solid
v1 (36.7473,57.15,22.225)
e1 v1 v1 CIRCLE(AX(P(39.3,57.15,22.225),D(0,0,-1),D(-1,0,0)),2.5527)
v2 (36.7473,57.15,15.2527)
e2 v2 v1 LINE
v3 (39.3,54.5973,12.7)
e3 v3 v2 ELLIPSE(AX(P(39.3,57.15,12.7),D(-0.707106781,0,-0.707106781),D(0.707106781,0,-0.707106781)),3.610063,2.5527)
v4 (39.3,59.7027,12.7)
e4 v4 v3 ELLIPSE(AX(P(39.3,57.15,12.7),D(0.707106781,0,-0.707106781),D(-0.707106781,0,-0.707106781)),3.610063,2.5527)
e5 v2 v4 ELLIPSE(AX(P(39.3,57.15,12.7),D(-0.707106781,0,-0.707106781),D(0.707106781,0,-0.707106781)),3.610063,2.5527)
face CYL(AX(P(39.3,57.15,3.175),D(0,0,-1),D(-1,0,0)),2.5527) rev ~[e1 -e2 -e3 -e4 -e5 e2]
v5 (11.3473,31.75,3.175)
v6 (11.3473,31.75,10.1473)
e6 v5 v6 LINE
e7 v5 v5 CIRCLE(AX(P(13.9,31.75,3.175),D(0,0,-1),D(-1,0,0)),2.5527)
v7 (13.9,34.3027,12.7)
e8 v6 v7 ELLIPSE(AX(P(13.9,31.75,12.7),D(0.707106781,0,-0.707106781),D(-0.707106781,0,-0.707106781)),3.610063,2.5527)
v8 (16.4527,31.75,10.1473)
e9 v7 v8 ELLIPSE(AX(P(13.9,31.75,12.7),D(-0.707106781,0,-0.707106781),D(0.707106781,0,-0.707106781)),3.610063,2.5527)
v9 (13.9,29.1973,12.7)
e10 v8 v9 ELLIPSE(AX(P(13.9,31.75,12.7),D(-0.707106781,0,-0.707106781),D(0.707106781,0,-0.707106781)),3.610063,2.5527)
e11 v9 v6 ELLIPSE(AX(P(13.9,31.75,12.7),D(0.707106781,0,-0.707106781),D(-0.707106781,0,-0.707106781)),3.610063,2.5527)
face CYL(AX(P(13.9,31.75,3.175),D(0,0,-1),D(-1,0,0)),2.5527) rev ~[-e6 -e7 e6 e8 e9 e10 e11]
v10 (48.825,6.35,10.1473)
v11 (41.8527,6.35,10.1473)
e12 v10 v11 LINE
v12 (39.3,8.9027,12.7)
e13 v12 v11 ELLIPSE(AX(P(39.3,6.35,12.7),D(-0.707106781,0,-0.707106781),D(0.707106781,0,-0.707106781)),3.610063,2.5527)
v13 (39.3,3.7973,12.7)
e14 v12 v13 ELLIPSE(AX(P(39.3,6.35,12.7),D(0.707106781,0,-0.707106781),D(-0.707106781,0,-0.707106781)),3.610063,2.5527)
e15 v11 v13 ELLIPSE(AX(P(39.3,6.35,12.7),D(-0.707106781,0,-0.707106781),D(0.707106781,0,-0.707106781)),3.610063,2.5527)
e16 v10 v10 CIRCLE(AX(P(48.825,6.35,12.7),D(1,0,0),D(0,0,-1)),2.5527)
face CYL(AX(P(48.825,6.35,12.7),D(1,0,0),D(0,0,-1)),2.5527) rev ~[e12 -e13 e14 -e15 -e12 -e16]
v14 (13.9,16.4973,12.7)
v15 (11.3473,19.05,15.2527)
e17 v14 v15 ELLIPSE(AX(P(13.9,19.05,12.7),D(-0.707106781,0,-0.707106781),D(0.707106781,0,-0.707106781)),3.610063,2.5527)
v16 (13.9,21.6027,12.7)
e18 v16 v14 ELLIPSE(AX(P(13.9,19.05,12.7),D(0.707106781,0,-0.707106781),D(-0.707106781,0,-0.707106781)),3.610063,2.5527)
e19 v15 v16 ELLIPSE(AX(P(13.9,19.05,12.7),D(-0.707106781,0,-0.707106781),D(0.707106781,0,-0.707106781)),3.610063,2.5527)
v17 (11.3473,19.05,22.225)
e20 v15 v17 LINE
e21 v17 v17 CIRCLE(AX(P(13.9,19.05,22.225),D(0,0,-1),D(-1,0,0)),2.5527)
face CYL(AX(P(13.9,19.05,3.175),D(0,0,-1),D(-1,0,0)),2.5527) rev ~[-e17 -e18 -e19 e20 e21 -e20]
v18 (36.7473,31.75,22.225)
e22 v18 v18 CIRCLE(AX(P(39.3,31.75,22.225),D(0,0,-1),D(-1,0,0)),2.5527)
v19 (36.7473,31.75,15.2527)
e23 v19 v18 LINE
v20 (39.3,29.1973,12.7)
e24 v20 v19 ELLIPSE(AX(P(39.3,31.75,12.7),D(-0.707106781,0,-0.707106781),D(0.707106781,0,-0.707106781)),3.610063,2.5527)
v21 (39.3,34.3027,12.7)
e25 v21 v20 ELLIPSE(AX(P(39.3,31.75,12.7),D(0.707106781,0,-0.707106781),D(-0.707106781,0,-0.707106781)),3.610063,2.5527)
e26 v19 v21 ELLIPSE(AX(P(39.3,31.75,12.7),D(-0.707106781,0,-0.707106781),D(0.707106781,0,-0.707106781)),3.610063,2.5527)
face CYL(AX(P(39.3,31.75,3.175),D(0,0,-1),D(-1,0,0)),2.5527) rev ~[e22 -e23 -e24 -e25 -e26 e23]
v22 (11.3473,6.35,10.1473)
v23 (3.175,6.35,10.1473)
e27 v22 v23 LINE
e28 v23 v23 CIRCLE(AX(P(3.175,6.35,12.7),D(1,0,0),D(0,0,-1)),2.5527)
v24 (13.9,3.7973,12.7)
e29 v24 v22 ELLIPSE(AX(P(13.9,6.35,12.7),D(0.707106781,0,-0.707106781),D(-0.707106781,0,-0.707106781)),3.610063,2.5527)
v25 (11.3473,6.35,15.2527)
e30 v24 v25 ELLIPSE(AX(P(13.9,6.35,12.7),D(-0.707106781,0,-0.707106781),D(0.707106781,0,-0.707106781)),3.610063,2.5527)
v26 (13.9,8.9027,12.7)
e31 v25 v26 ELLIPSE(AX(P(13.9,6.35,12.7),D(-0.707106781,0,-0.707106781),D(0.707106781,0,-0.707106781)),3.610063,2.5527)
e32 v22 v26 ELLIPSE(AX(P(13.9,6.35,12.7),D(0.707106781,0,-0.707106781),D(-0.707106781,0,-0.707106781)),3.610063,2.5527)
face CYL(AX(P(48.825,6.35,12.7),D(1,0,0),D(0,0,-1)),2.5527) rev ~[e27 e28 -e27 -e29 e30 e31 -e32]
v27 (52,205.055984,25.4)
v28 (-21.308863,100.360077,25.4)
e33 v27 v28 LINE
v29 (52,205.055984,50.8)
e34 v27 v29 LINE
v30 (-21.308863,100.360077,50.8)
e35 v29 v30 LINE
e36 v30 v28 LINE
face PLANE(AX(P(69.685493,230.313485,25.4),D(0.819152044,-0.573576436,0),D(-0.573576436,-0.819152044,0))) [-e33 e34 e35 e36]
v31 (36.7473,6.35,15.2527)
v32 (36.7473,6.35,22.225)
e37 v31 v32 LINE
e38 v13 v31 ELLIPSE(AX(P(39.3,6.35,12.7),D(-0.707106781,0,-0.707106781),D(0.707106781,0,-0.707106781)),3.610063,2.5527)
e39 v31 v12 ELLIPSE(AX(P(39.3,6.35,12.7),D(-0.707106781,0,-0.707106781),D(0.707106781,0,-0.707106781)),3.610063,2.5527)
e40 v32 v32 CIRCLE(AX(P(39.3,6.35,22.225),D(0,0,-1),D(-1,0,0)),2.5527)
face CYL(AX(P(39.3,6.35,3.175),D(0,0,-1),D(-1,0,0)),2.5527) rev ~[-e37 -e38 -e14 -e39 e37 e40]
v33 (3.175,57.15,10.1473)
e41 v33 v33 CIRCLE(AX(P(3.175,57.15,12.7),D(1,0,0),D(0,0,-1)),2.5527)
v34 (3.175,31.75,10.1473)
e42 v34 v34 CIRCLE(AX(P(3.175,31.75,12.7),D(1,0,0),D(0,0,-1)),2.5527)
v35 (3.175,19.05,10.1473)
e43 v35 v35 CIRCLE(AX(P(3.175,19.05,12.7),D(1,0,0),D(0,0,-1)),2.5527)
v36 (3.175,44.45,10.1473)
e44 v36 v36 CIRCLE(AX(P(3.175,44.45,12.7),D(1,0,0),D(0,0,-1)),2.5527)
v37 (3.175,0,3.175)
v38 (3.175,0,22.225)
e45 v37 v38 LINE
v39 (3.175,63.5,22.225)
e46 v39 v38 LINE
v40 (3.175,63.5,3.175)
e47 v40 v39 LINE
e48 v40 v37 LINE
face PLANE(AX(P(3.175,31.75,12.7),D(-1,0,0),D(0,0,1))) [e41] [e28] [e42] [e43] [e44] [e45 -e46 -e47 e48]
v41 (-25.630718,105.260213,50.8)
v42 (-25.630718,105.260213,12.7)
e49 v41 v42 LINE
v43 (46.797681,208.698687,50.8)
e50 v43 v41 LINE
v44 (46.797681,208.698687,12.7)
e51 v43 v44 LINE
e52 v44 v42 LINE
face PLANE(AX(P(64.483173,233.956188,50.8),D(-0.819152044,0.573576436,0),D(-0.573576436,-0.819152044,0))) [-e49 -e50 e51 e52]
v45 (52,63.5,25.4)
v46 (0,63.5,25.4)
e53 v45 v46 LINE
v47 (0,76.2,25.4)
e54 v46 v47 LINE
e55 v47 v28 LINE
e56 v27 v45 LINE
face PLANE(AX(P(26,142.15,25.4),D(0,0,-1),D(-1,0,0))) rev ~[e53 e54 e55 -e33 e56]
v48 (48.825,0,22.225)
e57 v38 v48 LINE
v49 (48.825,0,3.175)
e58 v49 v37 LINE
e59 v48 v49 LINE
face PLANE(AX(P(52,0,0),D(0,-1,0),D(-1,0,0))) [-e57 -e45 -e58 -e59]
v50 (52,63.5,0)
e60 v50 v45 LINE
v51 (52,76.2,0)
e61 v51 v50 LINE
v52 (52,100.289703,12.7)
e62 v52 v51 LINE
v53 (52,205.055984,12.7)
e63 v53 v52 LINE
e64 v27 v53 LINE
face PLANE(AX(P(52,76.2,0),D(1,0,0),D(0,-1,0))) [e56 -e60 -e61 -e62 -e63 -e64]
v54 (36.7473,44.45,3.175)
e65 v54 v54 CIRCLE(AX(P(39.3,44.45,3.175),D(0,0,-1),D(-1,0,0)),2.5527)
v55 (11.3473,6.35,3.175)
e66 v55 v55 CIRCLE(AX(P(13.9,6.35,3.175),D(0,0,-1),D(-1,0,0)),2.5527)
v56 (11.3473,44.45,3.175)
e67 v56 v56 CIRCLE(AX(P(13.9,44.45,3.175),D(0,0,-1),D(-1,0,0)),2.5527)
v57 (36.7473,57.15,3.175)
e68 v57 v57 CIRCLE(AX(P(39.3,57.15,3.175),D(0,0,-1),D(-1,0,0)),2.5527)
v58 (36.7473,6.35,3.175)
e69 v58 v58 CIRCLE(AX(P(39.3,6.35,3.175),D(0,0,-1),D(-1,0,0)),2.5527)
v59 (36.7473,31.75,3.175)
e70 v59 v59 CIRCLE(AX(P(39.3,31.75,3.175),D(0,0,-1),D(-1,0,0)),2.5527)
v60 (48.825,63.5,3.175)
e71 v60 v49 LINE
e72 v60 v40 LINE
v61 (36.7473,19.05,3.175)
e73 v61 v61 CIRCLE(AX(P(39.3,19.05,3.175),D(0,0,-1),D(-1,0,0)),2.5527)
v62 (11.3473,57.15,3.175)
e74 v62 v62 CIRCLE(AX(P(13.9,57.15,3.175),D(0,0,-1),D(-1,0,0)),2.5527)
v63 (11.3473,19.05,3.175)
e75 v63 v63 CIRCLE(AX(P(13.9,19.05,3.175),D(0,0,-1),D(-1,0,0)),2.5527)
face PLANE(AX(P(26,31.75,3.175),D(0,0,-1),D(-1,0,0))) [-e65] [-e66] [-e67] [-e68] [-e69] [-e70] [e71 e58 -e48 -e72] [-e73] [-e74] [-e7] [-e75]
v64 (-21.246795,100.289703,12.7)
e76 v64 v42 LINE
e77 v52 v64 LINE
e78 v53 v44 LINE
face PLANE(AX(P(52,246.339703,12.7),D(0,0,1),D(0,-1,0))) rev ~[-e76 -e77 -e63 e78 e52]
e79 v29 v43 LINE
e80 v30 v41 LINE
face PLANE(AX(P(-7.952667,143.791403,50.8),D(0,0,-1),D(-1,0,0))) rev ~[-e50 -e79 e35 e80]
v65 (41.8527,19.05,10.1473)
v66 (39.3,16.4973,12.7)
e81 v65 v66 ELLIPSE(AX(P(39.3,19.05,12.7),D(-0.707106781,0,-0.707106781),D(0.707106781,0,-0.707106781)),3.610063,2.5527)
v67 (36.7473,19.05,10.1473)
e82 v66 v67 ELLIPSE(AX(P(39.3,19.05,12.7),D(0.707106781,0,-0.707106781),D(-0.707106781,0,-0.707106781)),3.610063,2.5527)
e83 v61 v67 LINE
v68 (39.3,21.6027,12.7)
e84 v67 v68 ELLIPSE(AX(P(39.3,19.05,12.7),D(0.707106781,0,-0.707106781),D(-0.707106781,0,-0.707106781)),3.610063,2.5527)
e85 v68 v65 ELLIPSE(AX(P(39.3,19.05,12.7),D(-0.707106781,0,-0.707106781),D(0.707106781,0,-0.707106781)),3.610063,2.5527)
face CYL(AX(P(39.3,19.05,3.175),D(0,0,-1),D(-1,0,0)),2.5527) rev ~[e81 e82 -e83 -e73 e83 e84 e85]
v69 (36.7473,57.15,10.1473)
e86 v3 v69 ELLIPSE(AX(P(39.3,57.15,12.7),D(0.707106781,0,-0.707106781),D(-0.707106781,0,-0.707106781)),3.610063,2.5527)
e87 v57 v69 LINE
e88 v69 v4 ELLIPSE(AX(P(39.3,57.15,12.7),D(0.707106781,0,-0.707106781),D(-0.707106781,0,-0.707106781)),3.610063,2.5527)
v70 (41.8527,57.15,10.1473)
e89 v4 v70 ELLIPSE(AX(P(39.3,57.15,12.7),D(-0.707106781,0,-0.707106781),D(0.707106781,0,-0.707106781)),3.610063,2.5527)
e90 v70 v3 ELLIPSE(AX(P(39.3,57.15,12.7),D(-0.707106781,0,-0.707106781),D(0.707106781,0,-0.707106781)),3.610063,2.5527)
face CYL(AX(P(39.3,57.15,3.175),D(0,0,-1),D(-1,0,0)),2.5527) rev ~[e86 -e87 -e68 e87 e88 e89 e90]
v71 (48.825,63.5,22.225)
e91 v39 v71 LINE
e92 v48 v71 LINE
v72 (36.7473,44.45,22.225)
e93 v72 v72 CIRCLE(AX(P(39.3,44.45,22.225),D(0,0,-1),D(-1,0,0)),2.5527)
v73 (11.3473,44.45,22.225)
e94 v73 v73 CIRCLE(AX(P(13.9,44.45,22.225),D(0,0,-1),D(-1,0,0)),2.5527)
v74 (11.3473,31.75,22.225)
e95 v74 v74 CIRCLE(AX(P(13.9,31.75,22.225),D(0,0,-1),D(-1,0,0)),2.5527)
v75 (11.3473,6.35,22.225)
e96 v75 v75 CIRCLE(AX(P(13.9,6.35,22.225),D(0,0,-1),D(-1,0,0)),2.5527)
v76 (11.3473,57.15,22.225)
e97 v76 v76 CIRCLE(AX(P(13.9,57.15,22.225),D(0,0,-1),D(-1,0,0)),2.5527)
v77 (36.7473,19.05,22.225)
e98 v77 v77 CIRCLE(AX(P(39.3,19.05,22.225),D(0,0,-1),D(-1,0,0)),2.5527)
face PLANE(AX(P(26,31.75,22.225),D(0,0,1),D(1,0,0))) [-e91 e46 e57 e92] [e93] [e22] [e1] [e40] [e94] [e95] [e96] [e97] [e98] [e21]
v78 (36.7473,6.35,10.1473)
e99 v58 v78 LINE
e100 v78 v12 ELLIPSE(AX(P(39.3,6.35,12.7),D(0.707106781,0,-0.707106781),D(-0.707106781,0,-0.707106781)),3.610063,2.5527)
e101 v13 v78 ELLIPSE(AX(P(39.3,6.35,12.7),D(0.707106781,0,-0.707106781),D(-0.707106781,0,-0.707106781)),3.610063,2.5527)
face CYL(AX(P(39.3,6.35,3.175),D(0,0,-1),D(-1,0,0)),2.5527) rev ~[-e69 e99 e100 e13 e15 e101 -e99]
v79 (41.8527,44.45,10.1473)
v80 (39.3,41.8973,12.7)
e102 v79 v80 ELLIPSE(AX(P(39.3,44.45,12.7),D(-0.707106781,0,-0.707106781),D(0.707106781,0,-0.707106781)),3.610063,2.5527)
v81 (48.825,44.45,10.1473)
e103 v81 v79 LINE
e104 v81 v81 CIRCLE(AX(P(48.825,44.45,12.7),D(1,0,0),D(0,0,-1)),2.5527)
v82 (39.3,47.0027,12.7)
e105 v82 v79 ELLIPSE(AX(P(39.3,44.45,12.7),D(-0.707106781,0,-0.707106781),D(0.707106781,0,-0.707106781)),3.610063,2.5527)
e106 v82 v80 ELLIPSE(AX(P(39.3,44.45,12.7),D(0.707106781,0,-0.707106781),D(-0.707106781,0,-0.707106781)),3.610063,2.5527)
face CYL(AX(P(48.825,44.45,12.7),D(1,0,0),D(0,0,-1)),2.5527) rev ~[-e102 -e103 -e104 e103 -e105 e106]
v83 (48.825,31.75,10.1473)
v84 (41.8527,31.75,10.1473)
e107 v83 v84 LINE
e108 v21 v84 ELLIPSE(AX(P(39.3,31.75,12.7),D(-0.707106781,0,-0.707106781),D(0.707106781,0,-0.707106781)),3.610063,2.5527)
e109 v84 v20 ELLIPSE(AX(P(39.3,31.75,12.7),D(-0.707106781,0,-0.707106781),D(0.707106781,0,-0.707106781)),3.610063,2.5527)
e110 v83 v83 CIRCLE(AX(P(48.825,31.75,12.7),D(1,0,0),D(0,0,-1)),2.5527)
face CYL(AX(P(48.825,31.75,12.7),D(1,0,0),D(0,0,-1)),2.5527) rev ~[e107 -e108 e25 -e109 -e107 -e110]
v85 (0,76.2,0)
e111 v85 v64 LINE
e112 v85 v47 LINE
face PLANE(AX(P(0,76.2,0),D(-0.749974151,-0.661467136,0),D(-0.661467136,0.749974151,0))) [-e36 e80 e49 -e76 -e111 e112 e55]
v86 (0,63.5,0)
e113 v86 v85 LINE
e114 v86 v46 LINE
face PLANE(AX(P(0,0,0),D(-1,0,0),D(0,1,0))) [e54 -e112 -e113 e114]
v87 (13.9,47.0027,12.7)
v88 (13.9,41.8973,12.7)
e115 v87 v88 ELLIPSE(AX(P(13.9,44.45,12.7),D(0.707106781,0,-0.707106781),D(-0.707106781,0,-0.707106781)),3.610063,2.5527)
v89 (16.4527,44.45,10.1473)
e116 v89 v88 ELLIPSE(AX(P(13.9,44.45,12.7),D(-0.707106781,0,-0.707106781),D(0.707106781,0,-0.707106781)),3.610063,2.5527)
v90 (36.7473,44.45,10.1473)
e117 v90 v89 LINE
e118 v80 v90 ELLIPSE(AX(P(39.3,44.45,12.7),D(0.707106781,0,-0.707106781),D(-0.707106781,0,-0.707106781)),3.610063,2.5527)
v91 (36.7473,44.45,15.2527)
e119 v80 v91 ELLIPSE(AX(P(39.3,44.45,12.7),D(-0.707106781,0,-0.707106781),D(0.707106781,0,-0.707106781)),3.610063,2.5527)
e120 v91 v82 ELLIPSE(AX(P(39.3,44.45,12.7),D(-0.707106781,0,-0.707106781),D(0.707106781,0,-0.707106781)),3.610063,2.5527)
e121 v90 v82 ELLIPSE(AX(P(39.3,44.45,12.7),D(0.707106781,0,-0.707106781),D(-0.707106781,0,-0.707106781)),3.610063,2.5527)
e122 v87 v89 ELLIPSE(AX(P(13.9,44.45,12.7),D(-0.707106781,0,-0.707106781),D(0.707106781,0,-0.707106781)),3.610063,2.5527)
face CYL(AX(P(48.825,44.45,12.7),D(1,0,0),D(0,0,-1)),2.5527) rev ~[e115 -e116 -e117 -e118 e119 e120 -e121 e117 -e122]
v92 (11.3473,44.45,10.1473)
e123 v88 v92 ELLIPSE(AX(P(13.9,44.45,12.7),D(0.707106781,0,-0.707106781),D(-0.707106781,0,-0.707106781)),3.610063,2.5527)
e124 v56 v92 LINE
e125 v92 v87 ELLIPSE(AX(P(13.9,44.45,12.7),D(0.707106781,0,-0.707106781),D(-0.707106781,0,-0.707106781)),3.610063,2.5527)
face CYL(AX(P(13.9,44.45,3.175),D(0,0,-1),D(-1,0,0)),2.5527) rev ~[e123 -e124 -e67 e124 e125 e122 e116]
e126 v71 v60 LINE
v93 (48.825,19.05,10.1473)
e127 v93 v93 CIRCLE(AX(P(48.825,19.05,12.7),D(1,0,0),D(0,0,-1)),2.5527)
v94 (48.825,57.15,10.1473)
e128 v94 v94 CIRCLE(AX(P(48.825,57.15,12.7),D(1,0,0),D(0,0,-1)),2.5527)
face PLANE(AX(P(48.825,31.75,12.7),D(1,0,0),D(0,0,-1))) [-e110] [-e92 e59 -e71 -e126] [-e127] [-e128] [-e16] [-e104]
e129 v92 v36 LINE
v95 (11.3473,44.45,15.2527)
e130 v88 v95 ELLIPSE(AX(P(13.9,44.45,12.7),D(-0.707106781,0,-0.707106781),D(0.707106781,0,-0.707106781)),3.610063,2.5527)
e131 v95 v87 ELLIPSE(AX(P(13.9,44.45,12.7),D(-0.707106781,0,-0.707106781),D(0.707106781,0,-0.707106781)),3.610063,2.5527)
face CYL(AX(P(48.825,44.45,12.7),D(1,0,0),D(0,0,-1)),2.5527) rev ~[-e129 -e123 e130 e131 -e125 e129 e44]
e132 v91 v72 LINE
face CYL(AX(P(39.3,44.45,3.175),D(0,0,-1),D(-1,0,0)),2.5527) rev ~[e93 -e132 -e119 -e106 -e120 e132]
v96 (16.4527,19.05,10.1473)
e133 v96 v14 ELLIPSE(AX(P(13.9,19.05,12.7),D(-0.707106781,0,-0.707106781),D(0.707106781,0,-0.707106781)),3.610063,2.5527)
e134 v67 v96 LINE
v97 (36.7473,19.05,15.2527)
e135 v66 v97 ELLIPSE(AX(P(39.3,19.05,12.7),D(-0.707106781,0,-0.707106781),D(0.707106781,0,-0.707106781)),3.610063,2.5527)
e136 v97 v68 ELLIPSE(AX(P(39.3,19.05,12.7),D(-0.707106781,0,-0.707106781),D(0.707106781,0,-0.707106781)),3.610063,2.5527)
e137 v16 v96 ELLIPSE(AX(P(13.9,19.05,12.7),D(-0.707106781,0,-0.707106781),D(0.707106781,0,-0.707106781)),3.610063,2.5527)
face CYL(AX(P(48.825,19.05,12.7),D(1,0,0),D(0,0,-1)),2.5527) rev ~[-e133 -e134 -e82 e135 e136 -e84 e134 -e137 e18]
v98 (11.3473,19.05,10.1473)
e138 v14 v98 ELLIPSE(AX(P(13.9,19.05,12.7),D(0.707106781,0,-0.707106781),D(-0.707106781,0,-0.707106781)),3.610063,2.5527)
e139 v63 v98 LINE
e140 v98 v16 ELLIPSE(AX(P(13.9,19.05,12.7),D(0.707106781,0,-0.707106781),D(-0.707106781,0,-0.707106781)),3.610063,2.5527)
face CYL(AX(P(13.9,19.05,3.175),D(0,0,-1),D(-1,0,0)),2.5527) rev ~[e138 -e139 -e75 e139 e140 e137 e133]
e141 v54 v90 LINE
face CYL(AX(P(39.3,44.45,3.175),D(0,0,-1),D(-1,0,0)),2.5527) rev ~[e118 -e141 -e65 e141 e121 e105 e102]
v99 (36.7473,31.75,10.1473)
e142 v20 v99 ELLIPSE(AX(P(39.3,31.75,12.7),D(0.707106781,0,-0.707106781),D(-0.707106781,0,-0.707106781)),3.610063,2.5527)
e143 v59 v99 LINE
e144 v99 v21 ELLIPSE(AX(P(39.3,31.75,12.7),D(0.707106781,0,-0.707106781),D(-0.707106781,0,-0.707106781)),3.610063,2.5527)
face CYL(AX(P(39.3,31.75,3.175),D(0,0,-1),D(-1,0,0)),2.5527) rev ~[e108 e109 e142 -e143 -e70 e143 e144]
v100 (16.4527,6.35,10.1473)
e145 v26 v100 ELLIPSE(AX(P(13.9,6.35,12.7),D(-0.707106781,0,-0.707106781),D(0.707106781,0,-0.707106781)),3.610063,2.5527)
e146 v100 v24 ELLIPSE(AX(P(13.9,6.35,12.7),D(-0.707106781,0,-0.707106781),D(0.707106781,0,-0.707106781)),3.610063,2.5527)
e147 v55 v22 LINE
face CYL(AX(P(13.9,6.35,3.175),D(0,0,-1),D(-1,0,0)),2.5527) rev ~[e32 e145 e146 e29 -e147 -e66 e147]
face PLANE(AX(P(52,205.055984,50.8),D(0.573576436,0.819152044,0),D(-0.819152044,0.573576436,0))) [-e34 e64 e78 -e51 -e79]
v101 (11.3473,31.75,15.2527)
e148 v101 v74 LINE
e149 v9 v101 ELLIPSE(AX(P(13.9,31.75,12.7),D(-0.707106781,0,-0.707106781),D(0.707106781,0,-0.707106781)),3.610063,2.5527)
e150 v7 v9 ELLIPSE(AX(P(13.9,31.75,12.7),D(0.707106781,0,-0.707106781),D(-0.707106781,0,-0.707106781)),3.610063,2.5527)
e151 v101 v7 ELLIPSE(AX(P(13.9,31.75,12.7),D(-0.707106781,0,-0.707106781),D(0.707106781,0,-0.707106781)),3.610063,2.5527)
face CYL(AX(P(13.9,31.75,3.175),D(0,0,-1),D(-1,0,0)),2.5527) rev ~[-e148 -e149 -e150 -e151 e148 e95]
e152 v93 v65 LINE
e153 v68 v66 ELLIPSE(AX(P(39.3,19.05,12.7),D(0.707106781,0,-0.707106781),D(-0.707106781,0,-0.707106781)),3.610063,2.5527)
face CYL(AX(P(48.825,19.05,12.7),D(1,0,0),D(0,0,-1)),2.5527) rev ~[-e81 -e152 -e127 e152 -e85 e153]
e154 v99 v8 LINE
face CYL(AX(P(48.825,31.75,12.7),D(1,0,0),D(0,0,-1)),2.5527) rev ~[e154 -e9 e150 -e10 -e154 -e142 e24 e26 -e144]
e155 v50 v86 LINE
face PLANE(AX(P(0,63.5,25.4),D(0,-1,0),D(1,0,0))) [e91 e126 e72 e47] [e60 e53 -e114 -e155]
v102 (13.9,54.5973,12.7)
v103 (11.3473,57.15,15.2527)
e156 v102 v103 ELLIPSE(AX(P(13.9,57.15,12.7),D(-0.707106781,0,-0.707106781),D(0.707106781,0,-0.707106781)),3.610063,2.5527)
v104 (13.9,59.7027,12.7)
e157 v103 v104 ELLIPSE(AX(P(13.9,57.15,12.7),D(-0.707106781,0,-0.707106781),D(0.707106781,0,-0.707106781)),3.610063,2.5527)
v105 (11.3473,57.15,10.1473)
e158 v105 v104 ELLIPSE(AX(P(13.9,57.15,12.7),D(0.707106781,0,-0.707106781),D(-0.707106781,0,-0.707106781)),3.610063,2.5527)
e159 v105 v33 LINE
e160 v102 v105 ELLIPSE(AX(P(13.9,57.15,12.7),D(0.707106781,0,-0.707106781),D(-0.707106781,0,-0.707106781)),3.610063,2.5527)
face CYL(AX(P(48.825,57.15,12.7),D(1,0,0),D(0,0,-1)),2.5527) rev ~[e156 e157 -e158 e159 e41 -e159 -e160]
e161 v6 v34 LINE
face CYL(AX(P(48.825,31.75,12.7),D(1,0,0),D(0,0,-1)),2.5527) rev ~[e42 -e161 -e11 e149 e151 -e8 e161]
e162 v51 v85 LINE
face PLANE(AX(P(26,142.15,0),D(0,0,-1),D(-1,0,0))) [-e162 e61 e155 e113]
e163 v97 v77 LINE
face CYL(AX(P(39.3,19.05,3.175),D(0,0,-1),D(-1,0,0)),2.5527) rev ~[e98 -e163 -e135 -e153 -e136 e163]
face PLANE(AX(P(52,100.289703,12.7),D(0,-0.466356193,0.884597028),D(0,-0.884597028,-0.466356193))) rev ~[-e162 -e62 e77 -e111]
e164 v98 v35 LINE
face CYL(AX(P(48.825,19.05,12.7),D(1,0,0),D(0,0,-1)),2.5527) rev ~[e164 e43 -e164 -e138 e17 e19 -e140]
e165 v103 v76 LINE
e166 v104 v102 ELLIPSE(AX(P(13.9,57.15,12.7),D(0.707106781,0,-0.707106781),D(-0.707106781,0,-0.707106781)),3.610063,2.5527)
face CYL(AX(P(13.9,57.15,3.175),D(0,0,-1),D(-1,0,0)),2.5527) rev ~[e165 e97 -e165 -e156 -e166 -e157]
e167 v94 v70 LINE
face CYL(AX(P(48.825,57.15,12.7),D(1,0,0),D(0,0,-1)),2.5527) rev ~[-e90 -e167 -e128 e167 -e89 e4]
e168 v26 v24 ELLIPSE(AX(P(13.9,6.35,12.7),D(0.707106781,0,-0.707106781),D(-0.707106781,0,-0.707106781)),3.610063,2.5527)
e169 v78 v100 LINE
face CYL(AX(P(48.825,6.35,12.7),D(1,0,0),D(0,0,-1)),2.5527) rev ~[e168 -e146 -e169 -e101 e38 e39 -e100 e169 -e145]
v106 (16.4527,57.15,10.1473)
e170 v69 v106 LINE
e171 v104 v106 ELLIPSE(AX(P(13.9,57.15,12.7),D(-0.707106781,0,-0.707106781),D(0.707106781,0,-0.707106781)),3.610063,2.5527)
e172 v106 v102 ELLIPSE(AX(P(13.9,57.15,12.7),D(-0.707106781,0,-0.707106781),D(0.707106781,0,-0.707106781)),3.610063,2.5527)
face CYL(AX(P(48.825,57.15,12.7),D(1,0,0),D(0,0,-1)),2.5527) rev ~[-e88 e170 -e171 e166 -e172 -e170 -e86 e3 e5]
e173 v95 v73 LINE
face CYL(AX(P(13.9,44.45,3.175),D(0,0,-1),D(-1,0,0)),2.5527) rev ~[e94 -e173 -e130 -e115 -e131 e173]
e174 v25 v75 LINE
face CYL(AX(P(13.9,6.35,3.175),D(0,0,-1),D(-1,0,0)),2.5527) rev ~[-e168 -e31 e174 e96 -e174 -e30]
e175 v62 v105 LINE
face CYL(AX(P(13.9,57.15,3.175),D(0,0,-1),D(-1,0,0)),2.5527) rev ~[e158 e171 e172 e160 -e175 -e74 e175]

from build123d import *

# Parameters (mm, degrees)
BOSS_EXTRUDE1_DEPTH     = 25.4
SKETCH2_W               = 52
SKETCH2_H               = 63.5
CUT_EXTRUDE1_DEPTH      = 3.175
SKETCH3_W               = 25.4
SKETCH3_H               = 63.5
CUT_EXTRUDE2_DEPTH      = 3.175
SKETCH4_W               = 52
SKETCH4_H               = 63.5
CUT_EXTRUDE3_DEPTH      = 3.175
SKETCH5_W               = 25.4
SKETCH5_H               = 63.5
CUT_EXTRUDE4_DEPTH      = 3.175
SKETCH6_R               = 2.5527
CUT_EXTRUDE5_DEPTH      = 23.225
SKETCH7_R               = 2.5527
CUT_EXTRUDE6_DEPTH      = 150.825
SKETCH8_W               = 101
SKETCH8_H               = 177.8
CUT_EXTRUDE7_DEPTH      = 26.4
CUT_EXTRUDE8_DEPTH      = 1
CUT_EXTRUDE8_DEPTH_BACK = 26.4
CUT_EXTRUDE9_DEPTH      = 26.4
CUT_EXTRUDE10_DEPTH     = 26.4
BOSS_EXTRUDE2_DEPTH     = 25.4
CUT_EXTRUDE11_DEPTH     = 51.8
CUT_EXTRUDE12_DEPTH     = 51.8
CUT_EXTRUDE13_DEPTH     = 93.323036631
CUT_EXTRUDE14_DEPTH     = 51.8
CUT_EXTRUDE15_DEPTH     = 26.4
CUT_EXTRUDE16_DEPTH     = 51.8


with BuildPart() as part:
    # Sketch1 → Boss-Extrude1 (new body)
    with BuildSketch(Plane.XY):
        Polygon((0, 0), (0, 76.2), (-101, 76.2), (-101, 254), (153, 254), (153, 76.2), (52, 76.2), (52, 0), align=None)
    extrude(amount=BOSS_EXTRUDE1_DEPTH)

    # Sketch2 → Cut-Extrude1 (cut)
    with BuildSketch(Plane.XY.offset(25.4)):
        with Locations((26, 31.75)):
            Rectangle(SKETCH2_W, SKETCH2_H)
    extrude(amount=-CUT_EXTRUDE1_DEPTH, mode=Mode.SUBTRACT)

    # Sketch3 → Cut-Extrude2 (cut)
    with BuildSketch(Plane.ZY):
        with Locations((12.7, 31.75)):
            Rectangle(SKETCH3_W, SKETCH3_H)
    extrude(amount=-CUT_EXTRUDE2_DEPTH, mode=Mode.SUBTRACT)

    # Sketch4 → Cut-Extrude3 (cut)
    with BuildSketch(Plane(origin=(0, 0, 0), x_dir=(-1, 0, 0), z_dir=(0, 0, -1))):
        with Locations((-26, 31.75)):
            Rectangle(SKETCH4_W, SKETCH4_H)
    extrude(amount=-CUT_EXTRUDE3_DEPTH, mode=Mode.SUBTRACT)

    # Sketch5 → Cut-Extrude4 (cut)
    with BuildSketch(Plane(origin=(52, 0, 0), x_dir=(0, 0, -1), z_dir=(1, 0, 0))):
        with Locations((-12.7, 31.75)):
            Rectangle(SKETCH5_W, SKETCH5_H)
    extrude(amount=-CUT_EXTRUDE4_DEPTH, mode=Mode.SUBTRACT)

    # Sketch6 → Cut-Extrude5 (cut, through all)
    with BuildSketch(Plane(origin=(0, 0, 3.175), x_dir=(-1, 0, 0), z_dir=(0, 0, -1))):
        with Locations((-39.3, 57.15)):
            Circle(SKETCH6_R)
        with Locations((-13.9, 57.15)):
            Circle(SKETCH6_R)
        with Locations((-39.3, 44.45)):
            Circle(SKETCH6_R)
        with Locations((-13.9, 44.45)):
            Circle(SKETCH6_R)
        with Locations((-39.3, 31.75)):
            Circle(SKETCH6_R)
        with Locations((-13.9, 31.75)):
            Circle(SKETCH6_R)
        with Locations((-39.3, 19.05)):
            Circle(SKETCH6_R)
        with Locations((-13.9, 19.05)):
            Circle(SKETCH6_R)
        with Locations((-39.3, 6.35)):
            Circle(SKETCH6_R)
        with Locations((-13.9, 6.35)):
            Circle(SKETCH6_R)
    extrude(amount=-CUT_EXTRUDE5_DEPTH, mode=Mode.SUBTRACT)

    # Sketch7 → Cut-Extrude6 (cut, through all)
    with BuildSketch(Plane(origin=(48.825, 0, 0), x_dir=(0, 0, -1), z_dir=(1, 0, 0))):
        with Locations((-12.7, 57.15)):
            Circle(SKETCH7_R)
        with Locations((-12.7, 44.45)):
            Circle(SKETCH7_R)
        with Locations((-12.7, 31.75)):
            Circle(SKETCH7_R)
        with Locations((-12.7, 19.05)):
            Circle(SKETCH7_R)
        with Locations((-12.7, 6.35)):
            Circle(SKETCH7_R)
    extrude(amount=-CUT_EXTRUDE6_DEPTH, mode=Mode.SUBTRACT)

    # Sketch8 → Cut-Extrude7 (cut, through all)
    with BuildSketch(Plane.XY.offset(25.4)):
        with Locations((102.5, 165.1)):
            Rectangle(SKETCH8_W, SKETCH8_H)
    extrude(amount=-CUT_EXTRUDE7_DEPTH, mode=Mode.SUBTRACT)

    # Sketch9 → Cut-Extrude8 (cut, two sides)
    with BuildSketch(Plane.XY.offset(25.4)) as cut_extrude8_sk:
        Polygon((52, 254), (52, 242.697), (35.85764308, 254), align=None)
    extrude(amount=CUT_EXTRUDE8_DEPTH, mode=Mode.SUBTRACT)
    extrude(cut_extrude8_sk.sketch, amount=-CUT_EXTRUDE8_DEPTH_BACK, mode=Mode.SUBTRACT)

    # Sketch10 → Cut-Extrude9 (cut, through all)
    with BuildSketch(Plane.XY.offset(25.4)):
        Polygon((35.85764308, 254), (-101, 58.547029828), (-101, 254), align=None)
    extrude(amount=-CUT_EXTRUDE9_DEPTH, mode=Mode.SUBTRACT)

    # Sketch11 → Cut-Extrude10 (cut, through all)
    with BuildSketch(Plane.XY.offset(25.4)):
        Polygon((35.85764308, 254), (46.79768076, 246.339703148), (-82.829822213, 61.212443159), (-93.769859893, 68.872740011), align=None)
    extrude(amount=-CUT_EXTRUDE10_DEPTH, mode=Mode.SUBTRACT)

    # Sketch14 → Boss-Extrude2 (add)
    with BuildSketch(Plane.XY.offset(25.4)):
        Polygon((46.79768076, 246.339703148), (69.685492552, 230.313484798), (-62.703014112, 41.243102891), (-85.590825904, 57.26932124), align=None)
    extrude(amount=BOSS_EXTRUDE2_DEPTH)

    # Sketch15 → Cut-Extrude11 (cut, through all)
    with BuildSketch(Plane.XY.offset(50.8)):
        Polygon((-38.225931244, 76.2), (-72.335421933, 76.2), (-85.590825904, 57.26932124), (-62.703014112, 41.243102891), align=None)
    extrude(amount=-CUT_EXTRUDE11_DEPTH, mode=Mode.SUBTRACT)

    # Sketch16 → Cut-Extrude12 (cut, through all)
    with BuildSketch(Plane(origin=(0, 0, 0), x_dir=(-1, 0, 0), z_dir=(0, 0, -1))):
        Polygon((0, 76.2), (40.323036631, 121.918424261), (72.335421933, 76.2), align=None)
    extrude(amount=-CUT_EXTRUDE12_DEPTH, mode=Mode.SUBTRACT)

    # Sketch17 → Cut-Extrude13 (cut, through all)
    with BuildSketch(Plane(origin=(52, 0, 0), x_dir=(0, 0, -1), z_dir=(1, 0, 0))):
        Polygon((-12.7, 246.339703148), (-12.7, 100.289703148), (0, 76.2), (0, 246.339703148), align=None)
    extrude(amount=-CUT_EXTRUDE13_DEPTH, mode=Mode.SUBTRACT)

    # Sketch18 → Cut-Extrude14 (cut, through all)
    with BuildSketch(Plane.XY.offset(50.8)):
        Polygon((64.483173396, 233.956187887), (-27.012035852, 103.287487173), (-44.697528488, 115.671002434), (46.79768076, 246.339703148), align=None)
    extrude(amount=-CUT_EXTRUDE14_DEPTH, mode=Mode.SUBTRACT)

    # Sketch19 → Cut-Extrude15 (cut, through all)
    with BuildSketch(Plane(origin=(0, 0, 25.4), x_dir=(-1, 0, 0), z_dir=(0, 0, -1))):
        Polygon((-52, 205.055983862), (-52, 216.128368684), (-64.483173396, 233.956187887), (-69.685492552, 230.313484798), align=None)
    extrude(amount=-CUT_EXTRUDE15_DEPTH, mode=Mode.SUBTRACT)

    # Sketch20 → Cut-Extrude16 (cut, through all)
    with BuildSketch(Plane.XY.offset(50.8)):
        Polygon((52, 205.055983862), (46.797680844, 208.698686951), (52, 216.128368684), align=None)
    extrude(amount=-CUT_EXTRUDE16_DEPTH, mode=Mode.SUBTRACT)


solid = part.part
